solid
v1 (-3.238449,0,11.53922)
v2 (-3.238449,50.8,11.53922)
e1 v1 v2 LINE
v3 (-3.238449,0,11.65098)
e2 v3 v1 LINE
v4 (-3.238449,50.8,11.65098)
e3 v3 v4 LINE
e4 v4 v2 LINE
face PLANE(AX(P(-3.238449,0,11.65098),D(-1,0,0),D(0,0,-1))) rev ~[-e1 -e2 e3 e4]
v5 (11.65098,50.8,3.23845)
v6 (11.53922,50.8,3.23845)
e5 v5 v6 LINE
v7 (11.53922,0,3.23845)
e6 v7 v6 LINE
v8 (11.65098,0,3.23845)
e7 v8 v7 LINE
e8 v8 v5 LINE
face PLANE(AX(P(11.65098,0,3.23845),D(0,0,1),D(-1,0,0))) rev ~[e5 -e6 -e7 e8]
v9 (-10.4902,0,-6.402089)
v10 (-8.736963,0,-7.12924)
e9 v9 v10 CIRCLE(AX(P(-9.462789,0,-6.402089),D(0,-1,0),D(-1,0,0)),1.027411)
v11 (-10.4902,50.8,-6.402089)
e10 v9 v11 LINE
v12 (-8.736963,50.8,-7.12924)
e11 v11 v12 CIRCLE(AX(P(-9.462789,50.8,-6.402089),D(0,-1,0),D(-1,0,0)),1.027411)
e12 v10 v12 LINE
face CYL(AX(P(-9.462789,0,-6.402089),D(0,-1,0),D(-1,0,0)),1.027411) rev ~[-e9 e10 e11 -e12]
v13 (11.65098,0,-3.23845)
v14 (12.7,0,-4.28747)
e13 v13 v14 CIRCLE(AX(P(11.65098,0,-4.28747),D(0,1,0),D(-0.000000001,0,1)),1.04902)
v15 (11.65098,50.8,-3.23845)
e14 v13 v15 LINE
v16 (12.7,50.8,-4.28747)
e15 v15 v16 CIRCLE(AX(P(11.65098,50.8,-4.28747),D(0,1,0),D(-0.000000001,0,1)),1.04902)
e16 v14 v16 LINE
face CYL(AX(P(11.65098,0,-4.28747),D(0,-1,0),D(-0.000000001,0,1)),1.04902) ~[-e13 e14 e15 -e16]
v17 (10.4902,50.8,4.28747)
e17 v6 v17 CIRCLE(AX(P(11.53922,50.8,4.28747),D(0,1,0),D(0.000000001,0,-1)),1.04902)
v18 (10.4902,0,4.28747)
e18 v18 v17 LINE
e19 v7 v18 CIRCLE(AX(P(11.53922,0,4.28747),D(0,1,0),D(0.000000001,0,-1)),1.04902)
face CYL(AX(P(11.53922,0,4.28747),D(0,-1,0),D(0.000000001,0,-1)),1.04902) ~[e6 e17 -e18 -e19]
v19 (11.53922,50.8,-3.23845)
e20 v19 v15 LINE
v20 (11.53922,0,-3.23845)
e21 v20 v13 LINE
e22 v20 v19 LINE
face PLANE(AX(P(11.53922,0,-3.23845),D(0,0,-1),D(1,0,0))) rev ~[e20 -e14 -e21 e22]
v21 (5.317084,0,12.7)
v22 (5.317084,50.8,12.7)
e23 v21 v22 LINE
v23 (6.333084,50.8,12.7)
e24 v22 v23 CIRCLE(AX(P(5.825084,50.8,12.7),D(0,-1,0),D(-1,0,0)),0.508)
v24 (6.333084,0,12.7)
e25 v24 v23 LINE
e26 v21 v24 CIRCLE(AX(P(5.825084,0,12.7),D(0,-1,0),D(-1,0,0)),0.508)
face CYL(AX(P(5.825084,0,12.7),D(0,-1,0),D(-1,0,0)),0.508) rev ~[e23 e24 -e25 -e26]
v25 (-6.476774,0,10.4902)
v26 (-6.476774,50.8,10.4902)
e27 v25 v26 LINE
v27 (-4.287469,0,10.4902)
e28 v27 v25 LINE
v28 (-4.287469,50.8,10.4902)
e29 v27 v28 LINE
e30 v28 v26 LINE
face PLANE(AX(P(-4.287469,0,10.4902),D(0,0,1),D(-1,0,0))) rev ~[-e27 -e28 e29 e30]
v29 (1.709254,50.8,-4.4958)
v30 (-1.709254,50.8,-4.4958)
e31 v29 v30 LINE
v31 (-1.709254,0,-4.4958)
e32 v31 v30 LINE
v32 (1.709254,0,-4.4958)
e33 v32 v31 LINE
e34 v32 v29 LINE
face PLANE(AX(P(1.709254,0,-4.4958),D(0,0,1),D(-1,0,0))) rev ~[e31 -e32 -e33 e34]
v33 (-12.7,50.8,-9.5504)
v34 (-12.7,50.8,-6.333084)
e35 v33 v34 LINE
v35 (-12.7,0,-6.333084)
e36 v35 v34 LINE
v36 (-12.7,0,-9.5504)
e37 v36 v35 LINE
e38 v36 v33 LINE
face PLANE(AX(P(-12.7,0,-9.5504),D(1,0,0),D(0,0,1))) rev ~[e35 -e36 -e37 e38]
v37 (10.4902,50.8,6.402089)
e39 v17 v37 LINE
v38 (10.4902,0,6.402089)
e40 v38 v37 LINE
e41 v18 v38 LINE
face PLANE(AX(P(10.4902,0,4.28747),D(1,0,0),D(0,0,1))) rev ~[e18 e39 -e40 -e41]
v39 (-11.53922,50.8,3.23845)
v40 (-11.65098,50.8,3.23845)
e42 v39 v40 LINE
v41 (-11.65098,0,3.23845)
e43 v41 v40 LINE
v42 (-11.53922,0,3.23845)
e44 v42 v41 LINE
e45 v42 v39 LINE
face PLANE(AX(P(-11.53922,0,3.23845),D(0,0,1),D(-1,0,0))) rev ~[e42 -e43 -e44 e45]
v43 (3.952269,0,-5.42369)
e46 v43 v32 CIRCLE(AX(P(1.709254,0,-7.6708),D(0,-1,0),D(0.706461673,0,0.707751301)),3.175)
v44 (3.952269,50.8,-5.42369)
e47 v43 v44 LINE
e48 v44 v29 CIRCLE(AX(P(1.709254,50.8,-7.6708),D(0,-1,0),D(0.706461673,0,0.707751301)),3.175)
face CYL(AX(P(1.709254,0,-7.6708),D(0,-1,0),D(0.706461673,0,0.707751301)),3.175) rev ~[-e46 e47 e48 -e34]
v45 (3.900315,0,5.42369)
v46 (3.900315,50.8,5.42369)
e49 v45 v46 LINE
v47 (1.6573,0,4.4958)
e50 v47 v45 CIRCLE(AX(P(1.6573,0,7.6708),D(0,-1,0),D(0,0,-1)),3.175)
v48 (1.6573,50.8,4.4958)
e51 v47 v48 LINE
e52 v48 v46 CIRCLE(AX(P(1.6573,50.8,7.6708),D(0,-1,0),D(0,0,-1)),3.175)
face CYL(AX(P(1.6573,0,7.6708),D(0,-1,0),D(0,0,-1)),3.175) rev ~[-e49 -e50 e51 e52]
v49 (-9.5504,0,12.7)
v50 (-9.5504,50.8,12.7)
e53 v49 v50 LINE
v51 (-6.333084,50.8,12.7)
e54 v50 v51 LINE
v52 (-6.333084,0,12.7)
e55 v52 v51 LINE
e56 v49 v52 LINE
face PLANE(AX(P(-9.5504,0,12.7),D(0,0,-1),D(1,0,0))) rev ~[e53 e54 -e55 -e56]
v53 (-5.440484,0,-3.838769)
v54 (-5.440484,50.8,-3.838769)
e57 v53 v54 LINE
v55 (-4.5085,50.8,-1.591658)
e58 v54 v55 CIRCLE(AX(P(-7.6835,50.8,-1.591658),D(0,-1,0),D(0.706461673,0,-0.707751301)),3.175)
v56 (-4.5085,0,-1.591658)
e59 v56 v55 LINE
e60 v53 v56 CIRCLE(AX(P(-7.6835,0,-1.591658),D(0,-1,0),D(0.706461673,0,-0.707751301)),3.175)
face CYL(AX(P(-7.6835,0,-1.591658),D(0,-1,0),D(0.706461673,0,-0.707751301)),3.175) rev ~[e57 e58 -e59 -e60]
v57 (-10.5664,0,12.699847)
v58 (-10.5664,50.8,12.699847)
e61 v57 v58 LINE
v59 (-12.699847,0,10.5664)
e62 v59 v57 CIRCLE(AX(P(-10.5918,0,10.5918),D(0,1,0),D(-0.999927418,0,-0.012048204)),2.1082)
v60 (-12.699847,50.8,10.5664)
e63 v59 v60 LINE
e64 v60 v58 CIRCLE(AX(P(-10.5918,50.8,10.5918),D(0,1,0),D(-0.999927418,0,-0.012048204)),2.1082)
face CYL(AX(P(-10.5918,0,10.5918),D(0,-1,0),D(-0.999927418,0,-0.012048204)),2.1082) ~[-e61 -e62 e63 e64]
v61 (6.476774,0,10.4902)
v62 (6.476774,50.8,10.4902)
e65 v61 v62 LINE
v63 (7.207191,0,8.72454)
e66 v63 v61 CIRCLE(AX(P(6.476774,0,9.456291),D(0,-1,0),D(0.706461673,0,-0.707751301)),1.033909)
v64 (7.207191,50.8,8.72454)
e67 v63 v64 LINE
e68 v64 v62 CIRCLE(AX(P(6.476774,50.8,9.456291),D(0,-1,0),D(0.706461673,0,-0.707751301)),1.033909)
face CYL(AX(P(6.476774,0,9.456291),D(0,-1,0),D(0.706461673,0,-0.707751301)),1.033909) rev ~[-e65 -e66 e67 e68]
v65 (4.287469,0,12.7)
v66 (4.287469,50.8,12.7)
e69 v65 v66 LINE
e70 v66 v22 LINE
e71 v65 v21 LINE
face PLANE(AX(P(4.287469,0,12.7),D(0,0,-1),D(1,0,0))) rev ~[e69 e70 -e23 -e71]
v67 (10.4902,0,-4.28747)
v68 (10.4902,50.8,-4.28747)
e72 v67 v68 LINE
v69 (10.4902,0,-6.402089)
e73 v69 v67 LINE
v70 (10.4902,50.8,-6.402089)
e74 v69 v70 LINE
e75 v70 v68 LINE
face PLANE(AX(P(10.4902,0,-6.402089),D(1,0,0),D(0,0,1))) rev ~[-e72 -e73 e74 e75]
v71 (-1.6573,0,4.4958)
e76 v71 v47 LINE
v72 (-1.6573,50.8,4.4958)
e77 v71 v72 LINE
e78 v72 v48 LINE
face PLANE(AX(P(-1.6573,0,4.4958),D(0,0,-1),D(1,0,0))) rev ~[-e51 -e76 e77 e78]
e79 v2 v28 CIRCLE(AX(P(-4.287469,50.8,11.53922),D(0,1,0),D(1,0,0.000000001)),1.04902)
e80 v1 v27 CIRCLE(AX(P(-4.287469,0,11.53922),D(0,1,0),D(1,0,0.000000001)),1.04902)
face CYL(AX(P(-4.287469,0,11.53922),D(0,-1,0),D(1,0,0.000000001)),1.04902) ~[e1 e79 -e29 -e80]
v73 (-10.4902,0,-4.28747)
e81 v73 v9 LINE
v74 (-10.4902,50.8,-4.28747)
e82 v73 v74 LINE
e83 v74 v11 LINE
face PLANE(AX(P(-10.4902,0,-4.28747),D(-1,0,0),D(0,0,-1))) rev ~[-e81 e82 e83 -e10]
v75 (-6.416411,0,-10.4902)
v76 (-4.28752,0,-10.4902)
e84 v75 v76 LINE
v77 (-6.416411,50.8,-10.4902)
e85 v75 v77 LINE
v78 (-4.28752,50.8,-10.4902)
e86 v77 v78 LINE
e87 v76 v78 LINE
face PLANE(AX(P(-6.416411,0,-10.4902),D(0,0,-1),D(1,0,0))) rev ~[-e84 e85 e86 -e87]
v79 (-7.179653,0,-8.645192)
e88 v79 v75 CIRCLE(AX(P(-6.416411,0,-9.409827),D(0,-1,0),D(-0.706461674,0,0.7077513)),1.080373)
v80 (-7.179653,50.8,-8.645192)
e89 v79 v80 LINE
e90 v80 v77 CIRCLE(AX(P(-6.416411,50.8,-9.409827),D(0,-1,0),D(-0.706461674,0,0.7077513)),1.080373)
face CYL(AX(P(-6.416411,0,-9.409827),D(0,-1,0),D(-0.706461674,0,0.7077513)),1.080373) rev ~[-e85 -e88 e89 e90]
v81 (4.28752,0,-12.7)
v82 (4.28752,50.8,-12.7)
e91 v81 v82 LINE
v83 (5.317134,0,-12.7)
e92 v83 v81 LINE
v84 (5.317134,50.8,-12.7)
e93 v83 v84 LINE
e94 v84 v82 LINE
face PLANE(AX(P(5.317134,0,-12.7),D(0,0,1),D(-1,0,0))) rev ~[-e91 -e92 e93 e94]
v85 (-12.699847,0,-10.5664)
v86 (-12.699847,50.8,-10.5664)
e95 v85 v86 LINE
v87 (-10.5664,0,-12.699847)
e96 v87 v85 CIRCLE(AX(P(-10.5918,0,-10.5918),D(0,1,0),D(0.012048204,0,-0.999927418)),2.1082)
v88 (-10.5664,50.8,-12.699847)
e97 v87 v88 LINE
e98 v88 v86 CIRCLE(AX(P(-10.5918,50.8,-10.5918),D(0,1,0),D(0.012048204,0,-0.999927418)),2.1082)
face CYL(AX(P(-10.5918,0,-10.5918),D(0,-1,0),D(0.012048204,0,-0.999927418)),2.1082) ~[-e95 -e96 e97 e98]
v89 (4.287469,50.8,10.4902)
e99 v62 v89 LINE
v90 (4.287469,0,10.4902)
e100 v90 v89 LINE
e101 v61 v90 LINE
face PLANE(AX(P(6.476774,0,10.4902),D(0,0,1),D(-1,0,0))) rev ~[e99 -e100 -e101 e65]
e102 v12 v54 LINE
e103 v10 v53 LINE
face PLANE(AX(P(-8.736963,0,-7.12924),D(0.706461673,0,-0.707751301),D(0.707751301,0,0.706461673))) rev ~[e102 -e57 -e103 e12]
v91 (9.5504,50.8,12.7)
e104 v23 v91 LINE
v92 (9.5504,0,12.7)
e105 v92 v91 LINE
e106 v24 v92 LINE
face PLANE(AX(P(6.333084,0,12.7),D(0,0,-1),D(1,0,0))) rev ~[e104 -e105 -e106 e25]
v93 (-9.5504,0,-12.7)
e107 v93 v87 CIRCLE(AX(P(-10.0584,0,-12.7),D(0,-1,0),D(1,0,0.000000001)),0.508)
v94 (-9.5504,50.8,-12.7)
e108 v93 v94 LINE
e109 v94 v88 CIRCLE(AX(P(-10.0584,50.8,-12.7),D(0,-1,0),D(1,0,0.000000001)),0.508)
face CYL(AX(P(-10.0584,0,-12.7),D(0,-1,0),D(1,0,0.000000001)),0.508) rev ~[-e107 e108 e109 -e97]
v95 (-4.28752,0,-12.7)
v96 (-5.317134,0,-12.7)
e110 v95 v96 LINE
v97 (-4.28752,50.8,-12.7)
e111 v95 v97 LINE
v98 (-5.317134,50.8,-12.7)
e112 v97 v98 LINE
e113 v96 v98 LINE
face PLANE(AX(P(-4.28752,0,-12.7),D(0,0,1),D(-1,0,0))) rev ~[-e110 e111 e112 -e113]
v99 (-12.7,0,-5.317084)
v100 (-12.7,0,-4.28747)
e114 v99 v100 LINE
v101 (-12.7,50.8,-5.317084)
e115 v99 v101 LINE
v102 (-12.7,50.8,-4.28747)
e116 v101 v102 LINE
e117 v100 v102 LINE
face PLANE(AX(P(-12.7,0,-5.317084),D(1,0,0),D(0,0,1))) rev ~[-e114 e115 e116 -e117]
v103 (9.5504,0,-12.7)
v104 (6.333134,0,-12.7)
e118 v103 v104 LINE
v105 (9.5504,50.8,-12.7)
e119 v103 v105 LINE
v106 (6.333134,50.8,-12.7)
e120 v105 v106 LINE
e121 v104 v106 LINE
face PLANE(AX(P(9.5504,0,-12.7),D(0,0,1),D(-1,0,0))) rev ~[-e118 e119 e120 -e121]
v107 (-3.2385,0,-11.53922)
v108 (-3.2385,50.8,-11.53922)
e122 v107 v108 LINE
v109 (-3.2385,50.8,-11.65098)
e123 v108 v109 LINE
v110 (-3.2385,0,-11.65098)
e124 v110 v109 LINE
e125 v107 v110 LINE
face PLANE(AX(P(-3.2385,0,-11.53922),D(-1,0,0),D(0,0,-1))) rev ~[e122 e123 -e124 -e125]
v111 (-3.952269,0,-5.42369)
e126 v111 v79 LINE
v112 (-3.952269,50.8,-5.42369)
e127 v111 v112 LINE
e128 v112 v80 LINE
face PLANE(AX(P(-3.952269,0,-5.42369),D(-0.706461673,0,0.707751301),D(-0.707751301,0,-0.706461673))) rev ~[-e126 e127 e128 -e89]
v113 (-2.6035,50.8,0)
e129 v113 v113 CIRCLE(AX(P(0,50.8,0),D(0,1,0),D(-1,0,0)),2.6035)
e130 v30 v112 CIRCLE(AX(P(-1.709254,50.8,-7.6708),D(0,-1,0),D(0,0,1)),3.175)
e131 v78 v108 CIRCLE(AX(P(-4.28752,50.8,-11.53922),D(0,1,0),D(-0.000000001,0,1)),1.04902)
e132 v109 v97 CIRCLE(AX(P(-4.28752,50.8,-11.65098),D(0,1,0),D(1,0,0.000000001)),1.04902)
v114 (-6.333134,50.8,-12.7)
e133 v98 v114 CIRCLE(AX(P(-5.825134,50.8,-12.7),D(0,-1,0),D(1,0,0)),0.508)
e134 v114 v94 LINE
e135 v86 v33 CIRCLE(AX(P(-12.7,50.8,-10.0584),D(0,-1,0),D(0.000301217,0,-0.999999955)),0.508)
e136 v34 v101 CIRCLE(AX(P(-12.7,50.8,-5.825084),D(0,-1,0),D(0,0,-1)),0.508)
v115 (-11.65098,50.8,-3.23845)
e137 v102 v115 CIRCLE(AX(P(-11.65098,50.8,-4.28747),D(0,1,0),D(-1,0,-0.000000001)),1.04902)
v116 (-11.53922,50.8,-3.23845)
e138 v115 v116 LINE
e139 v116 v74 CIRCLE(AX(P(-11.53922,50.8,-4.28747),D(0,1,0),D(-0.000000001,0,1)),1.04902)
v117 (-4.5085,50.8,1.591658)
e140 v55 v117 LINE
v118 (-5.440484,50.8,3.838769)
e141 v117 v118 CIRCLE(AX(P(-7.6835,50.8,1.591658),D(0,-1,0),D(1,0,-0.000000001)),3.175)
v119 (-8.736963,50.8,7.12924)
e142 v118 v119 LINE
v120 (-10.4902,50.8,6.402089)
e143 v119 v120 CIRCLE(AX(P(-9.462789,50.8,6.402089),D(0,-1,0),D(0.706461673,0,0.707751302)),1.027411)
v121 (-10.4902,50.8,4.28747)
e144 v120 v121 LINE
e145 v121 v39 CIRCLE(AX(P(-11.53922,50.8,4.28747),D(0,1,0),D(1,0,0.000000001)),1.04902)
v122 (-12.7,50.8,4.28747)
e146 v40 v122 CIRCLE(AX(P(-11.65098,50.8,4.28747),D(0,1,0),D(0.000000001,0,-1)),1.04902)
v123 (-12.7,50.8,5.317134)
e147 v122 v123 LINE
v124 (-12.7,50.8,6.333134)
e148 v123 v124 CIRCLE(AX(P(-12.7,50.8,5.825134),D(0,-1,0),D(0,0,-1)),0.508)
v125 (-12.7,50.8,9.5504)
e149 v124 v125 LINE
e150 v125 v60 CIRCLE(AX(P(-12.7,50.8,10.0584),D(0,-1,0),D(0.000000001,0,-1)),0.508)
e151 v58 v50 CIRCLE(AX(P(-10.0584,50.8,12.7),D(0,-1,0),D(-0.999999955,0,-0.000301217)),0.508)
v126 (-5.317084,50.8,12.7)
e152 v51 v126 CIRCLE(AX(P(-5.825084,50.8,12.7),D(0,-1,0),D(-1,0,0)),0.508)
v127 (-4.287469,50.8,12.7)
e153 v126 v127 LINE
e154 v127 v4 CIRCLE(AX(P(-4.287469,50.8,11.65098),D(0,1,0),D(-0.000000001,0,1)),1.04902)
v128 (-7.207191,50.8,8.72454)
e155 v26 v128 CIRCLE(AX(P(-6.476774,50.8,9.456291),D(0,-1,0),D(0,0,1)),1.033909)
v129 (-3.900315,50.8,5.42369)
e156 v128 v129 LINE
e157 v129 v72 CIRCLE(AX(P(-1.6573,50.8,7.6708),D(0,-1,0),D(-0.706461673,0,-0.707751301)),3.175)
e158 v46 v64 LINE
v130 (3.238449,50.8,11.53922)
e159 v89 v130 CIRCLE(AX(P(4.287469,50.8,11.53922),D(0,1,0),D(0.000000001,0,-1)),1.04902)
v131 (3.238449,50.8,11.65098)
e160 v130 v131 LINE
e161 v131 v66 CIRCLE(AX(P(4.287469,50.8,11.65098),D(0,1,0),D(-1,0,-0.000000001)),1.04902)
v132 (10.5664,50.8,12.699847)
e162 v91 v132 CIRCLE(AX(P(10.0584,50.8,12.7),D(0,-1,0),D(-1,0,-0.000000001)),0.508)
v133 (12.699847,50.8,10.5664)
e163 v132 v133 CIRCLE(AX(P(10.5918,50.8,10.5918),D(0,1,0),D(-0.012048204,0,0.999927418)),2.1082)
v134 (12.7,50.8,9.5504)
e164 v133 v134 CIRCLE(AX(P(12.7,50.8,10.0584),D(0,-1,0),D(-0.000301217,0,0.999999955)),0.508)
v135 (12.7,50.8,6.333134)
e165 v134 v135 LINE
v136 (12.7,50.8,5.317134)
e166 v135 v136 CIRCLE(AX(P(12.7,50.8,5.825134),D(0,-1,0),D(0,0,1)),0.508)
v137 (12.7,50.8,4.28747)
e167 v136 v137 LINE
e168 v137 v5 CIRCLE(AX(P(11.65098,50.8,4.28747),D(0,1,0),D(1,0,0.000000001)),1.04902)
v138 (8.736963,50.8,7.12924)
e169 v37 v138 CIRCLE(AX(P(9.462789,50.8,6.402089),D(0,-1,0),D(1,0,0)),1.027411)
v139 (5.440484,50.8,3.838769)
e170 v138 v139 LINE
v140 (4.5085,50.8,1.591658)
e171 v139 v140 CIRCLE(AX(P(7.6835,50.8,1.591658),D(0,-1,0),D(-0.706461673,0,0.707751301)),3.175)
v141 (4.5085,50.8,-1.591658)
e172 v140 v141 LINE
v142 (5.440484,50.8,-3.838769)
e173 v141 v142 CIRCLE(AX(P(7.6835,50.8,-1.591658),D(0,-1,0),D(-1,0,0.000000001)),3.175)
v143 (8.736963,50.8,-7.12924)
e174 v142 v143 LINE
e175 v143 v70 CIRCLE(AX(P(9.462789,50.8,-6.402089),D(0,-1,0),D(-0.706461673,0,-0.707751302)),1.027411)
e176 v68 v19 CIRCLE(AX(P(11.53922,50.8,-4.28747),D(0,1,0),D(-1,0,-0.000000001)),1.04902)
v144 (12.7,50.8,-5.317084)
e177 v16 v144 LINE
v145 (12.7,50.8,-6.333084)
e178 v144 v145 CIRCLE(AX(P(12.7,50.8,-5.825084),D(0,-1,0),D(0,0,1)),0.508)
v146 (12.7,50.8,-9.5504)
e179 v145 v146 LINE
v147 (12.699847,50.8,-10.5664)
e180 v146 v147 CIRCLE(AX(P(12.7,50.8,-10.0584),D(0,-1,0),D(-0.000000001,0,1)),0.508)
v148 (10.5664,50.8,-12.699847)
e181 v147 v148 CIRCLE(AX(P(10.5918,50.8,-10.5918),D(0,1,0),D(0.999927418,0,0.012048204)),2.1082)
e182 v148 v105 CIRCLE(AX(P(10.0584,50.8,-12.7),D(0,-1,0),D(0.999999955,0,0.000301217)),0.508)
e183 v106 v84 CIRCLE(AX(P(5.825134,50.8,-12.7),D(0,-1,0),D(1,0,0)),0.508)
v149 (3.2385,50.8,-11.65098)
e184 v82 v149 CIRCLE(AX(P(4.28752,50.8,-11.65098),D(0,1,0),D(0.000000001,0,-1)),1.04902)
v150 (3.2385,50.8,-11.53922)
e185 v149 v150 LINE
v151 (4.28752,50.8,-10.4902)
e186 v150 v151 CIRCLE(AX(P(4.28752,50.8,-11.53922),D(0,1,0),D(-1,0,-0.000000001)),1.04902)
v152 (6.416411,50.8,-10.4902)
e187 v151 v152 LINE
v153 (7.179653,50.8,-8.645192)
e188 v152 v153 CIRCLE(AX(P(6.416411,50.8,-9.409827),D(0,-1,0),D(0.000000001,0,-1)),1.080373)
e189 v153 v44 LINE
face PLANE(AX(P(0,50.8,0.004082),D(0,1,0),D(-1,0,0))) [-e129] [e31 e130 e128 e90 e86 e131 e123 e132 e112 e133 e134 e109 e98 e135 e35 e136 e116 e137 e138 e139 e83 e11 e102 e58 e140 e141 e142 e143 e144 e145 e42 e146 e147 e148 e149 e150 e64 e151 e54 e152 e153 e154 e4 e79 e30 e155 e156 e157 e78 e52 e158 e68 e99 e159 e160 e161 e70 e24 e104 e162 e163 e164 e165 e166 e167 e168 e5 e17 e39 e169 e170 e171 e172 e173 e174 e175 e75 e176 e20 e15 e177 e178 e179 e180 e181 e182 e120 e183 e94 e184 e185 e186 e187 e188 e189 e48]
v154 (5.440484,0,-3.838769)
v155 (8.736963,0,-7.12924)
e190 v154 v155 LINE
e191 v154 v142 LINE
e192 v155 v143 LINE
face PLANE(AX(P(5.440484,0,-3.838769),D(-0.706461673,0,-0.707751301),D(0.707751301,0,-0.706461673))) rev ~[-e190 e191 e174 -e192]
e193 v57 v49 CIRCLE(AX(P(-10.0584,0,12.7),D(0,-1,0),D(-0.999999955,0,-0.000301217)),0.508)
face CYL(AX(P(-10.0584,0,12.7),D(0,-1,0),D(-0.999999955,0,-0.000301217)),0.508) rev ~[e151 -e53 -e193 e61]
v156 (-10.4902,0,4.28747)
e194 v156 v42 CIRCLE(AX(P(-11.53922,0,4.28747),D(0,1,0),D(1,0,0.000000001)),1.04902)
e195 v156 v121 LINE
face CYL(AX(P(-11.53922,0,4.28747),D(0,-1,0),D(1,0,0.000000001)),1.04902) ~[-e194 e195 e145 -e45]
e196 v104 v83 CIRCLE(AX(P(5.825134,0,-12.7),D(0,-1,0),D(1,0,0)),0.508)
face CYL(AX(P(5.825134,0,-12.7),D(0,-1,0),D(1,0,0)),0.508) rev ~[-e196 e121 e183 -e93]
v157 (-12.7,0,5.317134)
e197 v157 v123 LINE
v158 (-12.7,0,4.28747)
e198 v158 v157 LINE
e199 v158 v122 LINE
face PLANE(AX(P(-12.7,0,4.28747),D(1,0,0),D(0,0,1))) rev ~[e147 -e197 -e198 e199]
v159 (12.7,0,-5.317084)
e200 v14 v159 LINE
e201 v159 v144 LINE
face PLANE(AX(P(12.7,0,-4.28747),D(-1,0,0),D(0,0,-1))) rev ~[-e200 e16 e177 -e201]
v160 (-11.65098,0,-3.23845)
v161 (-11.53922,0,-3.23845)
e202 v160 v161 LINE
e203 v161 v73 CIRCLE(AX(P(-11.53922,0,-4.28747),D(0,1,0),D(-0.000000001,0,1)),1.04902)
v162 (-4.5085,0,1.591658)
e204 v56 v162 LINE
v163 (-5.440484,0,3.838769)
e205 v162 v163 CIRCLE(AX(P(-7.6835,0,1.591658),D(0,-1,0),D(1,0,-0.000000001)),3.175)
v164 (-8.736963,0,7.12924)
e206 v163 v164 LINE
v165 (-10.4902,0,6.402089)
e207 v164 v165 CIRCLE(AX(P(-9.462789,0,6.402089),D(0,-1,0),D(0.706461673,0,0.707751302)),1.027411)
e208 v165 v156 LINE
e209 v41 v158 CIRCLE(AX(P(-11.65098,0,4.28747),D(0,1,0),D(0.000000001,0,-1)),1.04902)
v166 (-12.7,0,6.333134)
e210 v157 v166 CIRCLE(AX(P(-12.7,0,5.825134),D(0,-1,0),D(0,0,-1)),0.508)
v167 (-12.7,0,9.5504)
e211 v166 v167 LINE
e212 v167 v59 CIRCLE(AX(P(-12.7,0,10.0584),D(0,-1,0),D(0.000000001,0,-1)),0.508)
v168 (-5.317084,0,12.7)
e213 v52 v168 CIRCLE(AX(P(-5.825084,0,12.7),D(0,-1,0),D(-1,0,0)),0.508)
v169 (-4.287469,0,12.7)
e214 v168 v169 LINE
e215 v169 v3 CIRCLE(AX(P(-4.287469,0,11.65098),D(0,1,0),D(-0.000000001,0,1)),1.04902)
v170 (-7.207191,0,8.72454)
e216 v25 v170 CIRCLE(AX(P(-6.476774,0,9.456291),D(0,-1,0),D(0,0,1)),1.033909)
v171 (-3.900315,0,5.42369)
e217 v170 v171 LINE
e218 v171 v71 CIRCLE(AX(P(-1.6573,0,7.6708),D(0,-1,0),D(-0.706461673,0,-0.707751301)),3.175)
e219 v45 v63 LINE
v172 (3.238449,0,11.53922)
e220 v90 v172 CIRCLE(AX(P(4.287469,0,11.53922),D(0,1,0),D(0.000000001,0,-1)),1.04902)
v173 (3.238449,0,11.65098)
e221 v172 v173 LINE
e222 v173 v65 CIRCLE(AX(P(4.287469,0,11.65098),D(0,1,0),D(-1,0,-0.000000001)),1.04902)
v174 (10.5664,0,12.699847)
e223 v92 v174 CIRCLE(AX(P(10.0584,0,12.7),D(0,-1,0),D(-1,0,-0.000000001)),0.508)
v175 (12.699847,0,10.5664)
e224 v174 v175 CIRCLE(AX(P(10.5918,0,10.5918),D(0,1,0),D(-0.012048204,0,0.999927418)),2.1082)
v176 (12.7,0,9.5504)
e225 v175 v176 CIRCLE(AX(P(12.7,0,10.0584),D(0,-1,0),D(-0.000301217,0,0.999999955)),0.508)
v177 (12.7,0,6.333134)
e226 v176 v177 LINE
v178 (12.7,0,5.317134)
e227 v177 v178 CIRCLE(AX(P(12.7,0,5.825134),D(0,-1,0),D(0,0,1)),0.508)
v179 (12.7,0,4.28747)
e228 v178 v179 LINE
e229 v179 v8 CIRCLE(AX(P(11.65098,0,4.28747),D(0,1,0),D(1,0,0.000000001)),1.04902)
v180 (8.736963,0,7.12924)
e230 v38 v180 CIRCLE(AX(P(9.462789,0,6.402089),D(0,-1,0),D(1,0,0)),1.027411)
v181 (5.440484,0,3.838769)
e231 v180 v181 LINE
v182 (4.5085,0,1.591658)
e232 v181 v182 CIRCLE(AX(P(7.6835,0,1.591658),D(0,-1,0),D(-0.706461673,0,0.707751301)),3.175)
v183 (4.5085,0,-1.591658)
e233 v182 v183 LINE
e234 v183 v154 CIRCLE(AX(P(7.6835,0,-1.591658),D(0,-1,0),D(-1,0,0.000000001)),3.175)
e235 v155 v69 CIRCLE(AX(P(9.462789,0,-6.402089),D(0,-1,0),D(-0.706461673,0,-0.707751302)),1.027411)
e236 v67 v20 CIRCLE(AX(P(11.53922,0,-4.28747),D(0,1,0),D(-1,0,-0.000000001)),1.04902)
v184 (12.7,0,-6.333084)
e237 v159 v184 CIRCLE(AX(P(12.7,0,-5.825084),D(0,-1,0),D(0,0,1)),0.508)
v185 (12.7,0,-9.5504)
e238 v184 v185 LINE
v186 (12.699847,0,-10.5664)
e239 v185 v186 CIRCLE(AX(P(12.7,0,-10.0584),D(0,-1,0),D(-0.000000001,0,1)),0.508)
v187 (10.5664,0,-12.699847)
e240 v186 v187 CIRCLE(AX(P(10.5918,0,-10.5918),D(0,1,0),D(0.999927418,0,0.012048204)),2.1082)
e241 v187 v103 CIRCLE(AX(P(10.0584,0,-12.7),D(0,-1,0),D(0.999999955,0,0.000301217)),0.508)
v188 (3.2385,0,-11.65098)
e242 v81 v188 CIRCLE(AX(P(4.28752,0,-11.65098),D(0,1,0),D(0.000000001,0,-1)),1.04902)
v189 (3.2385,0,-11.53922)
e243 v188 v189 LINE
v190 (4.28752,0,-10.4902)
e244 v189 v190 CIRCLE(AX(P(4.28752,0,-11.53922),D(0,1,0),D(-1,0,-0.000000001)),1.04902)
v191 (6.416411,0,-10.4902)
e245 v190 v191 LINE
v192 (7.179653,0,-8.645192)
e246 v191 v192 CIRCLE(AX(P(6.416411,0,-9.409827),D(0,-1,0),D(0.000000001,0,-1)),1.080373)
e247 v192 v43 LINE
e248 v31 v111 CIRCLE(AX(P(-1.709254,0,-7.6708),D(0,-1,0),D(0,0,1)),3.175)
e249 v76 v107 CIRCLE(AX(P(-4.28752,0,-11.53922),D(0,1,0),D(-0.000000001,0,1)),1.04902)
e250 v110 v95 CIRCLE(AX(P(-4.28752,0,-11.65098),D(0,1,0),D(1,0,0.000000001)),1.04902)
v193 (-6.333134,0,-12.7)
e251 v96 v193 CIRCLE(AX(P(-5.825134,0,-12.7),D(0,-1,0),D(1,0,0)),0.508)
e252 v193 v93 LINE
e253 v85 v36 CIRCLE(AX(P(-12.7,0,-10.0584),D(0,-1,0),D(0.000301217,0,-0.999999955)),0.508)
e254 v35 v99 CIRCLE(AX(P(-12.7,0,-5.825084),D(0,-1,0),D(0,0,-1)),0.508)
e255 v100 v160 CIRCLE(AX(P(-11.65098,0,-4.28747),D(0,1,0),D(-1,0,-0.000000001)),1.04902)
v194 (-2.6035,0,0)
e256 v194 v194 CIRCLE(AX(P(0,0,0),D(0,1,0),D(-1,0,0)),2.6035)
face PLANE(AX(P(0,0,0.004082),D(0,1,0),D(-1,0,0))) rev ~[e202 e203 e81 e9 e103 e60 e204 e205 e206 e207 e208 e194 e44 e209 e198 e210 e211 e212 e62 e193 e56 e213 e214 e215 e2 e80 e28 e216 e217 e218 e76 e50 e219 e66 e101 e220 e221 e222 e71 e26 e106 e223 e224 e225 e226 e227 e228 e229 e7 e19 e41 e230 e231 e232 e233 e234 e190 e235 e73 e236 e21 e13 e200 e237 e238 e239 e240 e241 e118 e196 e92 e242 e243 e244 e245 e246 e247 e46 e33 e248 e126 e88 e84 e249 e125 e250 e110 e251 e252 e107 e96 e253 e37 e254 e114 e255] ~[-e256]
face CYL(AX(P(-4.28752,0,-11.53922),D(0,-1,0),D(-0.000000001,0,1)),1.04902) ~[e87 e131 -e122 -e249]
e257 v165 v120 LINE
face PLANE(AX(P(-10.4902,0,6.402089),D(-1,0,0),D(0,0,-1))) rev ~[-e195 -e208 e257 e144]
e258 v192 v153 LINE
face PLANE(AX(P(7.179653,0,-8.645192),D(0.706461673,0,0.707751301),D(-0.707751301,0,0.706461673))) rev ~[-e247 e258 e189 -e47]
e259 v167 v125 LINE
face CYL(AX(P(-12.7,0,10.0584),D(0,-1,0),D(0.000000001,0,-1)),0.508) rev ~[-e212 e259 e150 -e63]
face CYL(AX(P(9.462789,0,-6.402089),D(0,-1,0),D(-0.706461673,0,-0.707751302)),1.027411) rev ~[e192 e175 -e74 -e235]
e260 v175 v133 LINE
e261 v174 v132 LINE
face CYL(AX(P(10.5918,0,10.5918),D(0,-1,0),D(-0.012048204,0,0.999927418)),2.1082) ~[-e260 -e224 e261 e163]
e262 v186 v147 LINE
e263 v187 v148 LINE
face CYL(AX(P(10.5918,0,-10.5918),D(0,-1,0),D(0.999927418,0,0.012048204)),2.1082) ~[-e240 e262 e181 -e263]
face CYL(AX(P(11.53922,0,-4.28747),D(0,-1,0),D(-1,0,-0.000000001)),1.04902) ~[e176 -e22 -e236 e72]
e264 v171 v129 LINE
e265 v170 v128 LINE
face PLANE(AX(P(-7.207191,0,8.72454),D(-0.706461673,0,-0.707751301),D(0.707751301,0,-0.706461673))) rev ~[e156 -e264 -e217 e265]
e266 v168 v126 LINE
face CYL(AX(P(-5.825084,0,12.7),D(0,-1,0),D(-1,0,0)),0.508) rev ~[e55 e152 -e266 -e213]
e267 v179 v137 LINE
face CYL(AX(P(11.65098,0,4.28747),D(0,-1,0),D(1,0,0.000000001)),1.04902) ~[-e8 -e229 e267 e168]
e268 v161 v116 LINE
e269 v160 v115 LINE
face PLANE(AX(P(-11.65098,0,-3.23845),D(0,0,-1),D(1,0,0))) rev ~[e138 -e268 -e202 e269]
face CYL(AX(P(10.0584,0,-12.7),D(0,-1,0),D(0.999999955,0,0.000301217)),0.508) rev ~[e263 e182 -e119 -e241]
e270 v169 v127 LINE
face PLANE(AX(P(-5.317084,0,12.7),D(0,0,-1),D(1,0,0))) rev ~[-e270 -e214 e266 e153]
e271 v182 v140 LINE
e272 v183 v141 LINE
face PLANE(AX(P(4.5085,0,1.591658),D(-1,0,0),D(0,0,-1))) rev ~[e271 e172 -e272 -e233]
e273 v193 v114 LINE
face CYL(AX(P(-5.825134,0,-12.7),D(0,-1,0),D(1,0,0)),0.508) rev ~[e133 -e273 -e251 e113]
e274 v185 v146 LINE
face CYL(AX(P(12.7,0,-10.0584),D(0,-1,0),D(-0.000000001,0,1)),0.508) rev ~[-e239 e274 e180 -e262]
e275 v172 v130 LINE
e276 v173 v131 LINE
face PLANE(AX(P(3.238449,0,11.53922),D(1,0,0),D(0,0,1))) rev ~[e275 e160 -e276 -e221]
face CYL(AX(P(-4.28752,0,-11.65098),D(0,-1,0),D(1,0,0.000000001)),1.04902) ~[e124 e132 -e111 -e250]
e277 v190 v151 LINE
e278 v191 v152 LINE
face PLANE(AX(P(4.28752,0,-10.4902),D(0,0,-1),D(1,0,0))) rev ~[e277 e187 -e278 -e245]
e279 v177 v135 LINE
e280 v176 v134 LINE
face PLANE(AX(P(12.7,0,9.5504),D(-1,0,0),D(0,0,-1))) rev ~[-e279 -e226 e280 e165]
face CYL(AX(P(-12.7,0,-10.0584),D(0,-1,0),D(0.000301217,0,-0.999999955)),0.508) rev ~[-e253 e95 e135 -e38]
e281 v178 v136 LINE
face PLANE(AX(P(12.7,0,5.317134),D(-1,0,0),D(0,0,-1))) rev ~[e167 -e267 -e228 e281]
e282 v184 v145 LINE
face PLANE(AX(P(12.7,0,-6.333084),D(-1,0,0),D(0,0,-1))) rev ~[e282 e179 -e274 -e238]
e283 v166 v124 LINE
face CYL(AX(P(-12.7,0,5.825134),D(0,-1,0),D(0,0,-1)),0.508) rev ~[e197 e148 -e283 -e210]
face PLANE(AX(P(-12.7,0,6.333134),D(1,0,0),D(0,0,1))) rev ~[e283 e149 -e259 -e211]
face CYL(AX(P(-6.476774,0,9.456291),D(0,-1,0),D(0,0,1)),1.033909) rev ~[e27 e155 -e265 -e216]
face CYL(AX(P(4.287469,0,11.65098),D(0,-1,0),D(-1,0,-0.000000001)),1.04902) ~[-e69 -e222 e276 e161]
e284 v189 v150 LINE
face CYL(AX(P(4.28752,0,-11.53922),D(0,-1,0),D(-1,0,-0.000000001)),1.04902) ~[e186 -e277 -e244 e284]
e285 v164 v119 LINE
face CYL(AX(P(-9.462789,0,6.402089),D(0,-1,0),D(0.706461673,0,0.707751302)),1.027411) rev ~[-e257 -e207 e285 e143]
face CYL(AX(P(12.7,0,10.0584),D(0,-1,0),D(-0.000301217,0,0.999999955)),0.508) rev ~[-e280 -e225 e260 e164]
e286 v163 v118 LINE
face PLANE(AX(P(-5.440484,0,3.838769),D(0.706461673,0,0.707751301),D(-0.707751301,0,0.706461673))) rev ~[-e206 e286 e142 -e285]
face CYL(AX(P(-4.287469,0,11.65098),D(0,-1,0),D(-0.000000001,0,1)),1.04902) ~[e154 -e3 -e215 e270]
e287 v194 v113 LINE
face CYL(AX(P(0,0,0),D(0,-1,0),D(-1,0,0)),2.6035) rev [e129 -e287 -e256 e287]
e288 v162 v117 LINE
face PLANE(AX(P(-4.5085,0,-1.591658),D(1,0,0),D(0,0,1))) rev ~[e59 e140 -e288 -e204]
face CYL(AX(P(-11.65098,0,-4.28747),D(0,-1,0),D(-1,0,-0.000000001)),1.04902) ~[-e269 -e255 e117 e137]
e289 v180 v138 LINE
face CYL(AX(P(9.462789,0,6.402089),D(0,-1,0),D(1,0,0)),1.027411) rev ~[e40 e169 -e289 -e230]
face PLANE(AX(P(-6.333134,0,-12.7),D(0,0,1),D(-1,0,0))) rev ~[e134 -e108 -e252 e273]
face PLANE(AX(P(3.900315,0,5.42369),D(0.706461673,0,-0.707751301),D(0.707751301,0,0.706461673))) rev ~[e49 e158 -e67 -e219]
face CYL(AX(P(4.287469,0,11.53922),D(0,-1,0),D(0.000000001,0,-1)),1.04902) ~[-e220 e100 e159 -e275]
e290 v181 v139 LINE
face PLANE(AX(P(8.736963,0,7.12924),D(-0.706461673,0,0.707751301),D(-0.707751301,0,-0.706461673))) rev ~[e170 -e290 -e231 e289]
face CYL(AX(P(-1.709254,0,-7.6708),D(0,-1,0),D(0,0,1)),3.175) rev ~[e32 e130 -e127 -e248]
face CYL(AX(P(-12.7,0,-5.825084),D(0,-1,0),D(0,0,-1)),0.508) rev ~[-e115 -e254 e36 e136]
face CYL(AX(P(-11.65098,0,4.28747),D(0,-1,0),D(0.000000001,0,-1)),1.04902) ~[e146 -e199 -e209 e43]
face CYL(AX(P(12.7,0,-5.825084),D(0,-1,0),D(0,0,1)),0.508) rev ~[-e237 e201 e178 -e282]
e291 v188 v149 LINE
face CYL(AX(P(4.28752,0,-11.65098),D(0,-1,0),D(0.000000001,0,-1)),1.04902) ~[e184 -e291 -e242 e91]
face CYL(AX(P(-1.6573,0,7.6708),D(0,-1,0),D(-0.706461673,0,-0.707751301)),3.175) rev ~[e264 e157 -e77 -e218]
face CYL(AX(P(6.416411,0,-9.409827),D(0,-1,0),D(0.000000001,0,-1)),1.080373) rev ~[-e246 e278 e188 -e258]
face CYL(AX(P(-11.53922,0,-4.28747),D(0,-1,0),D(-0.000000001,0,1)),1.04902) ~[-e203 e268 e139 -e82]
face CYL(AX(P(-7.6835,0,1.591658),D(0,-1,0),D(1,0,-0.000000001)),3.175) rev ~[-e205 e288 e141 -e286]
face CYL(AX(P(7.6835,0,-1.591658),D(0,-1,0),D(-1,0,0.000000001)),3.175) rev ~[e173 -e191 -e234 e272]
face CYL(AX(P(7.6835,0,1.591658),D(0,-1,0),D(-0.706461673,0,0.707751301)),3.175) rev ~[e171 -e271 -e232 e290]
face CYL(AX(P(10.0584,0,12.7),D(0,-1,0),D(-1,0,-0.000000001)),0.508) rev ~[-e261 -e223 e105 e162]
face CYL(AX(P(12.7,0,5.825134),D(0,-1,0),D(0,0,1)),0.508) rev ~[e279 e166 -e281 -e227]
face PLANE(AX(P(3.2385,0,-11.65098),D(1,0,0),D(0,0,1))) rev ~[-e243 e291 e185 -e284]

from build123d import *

# Parameters (mm, degrees)
SKETCH12_R                = 2.6035
F_10_1010_PROFILE_1_DEPTH = 50.8


with BuildPart() as part:
    # Sketch12 → 10 1010 PROFILE(1) (new body)
    with BuildSketch(Plane(origin=(0, 0, 0), x_dir=(-1, 0, 0), z_dir=(0, 1, 0))):
        with BuildLine():
            Line((-1.709253557, -4.4958), (1.709253557, -4.4958))
            ThreePointArc((1.709253557, -4.4958), (2.922935876, -4.736928798), (3.95226937, -5.423689619))
            Line((3.95226937, -5.423689619), (7.179652728, -8.645192207))
            ThreePointArc((7.179652728, -8.645192207), (7.414733441, -9.822812921), (6.41641086, -10.4902))
            Line((6.41641086, -10.4902), (4.28752, -10.4902))
            ThreePointArc((4.28752, -10.4902), (3.545750844, -10.797450844), (3.2385, -11.53922))
            Line((3.2385, -11.53922), (3.2385, -11.65098))
            ThreePointArc((3.2385, -11.65098), (3.545750844, -12.392749156), (4.28752, -12.7))
            Line((4.28752, -12.7), (5.3171344, -12.7))
            ThreePointArc((5.3171344, -12.7), (5.8251344, -12.192), (6.3331344, -12.7))
            Line((6.3331344, -12.7), (9.5504, -12.7))
            ThreePointArc((9.5504, -12.7), (10.058323491, -12.192000006), (10.566399977, -12.699846982))
            ThreePointArc((10.566399977, -12.699846982), (12.082522516, -12.082522516), (12.699846982, -10.566399977))
            ThreePointArc((12.699846982, -10.566399977), (12.192000006, -10.058323491), (12.7, -9.5504))
            Line((12.7, -9.5504), (12.7, -6.3330836))
            ThreePointArc((12.7, -6.3330836), (12.192, -5.8250836), (12.7, -5.3170836))
            Line((12.7, -5.3170836), (12.7, -4.287470133))
            ThreePointArc((12.7, -4.287470133), (12.392749156, -3.545700977), (11.65098, -3.238450133))
            Line((11.65098, -3.238450133), (11.53922, -3.238450133))
            ThreePointArc((11.53922, -3.238450133), (10.797450844, -3.545700977), (10.4902, -4.287470133))
            Line((10.4902, -4.287470133), (10.4902, -6.402089023))
            ThreePointArc((10.4902, -6.402089023), (9.856394933, -7.351113629), (8.736962546, -7.129240479))
            Line((8.736962546, -7.129240479), (5.440484187, -3.838768792))
            ThreePointArc((5.440484187, -3.838768792), (4.75073678, -2.808015636), (4.5085, -1.591658411))
            Line((4.5085, -1.591658411), (4.5085, 1.591658411))
            ThreePointArc((4.5085, 1.591658411), (4.75073678, 2.808015636), (5.440484187, 3.838768792))
            Line((5.440484187, 3.838768792), (8.736962546, 7.129240479))
            ThreePointArc((8.736962546, 7.129240479), (9.856394933, 7.351113629), (10.4902, 6.402089023))
            Line((10.4902, 6.402089023), (10.4902, 4.287470133))
            ThreePointArc((10.4902, 4.287470133), (10.797450844, 3.545700977), (11.53922, 3.238450133))
            Line((11.53922, 3.238450133), (11.65098, 3.238450133))
            ThreePointArc((11.65098, 3.238450133), (12.392749156, 3.545700977), (12.7, 4.287470133))
            Line((12.7, 4.287470133), (12.7, 5.3171344))
            ThreePointArc((12.7, 5.3171344), (12.192, 5.8251344), (12.7, 6.3331344))
            Line((12.7, 6.3331344), (12.7, 9.5504))
            ThreePointArc((12.7, 9.5504), (12.192000006, 10.058323491), (12.699846982, 10.566399977))
            ThreePointArc((12.699846982, 10.566399977), (12.082522516, 12.082522516), (10.566399977, 12.699846982))
            ThreePointArc((10.566399977, 12.699846982), (10.058323491, 12.192000006), (9.5504, 12.7))
            Line((9.5504, 12.7), (6.3330836, 12.7))
            ThreePointArc((6.3330836, 12.7), (5.8250836, 12.192), (5.3170836, 12.7))
            Line((5.3170836, 12.7), (4.2874692, 12.7))
            ThreePointArc((4.2874692, 12.7), (3.545700044, 12.392749156), (3.2384492, 11.65098))
            Line((3.2384492, 11.65098), (3.2384492, 11.53922))
            ThreePointArc((3.2384492, 11.53922), (3.545700044, 10.797450844), (4.2874692, 10.4902))
            Line((4.2874692, 10.4902), (6.476774195, 10.4902))
            ThreePointArc((6.476774195, 10.4902), (7.43216212, 9.851515102), (7.207191475, 8.724540082))
            Line((7.207191475, 8.724540082), (3.900315394, 5.423689619))
            ThreePointArc((3.900315394, 5.423689619), (2.8709819, 4.736928798), (1.657299581, 4.4958))
            Line((1.657299581, 4.4958), (-1.657299581, 4.4958))
            ThreePointArc((-1.657299581, 4.4958), (-2.8709819, 4.736928798), (-3.900315394, 5.423689619))
            Line((-3.900315394, 5.423689619), (-7.207191475, 8.724540082))
            ThreePointArc((-7.207191475, 8.724540082), (-7.43216212, 9.851515102), (-6.476774195, 10.4902))
            Line((-6.476774195, 10.4902), (-4.2874692, 10.4902))
            ThreePointArc((-4.2874692, 10.4902), (-3.545700044, 10.797450844), (-3.2384492, 11.53922))
            Line((-3.2384492, 11.53922), (-3.2384492, 11.65098))
            ThreePointArc((-3.2384492, 11.65098), (-3.545700044, 12.392749156), (-4.2874692, 12.7))
            Line((-4.2874692, 12.7), (-5.3170836, 12.7))
            ThreePointArc((-5.3170836, 12.7), (-5.8250836, 12.192), (-6.3330836, 12.7))
            Line((-6.3330836, 12.7), (-9.5504, 12.7))
            ThreePointArc((-9.5504, 12.7), (-10.058323491, 12.192000006), (-10.566399977, 12.699846982))
            ThreePointArc((-10.566399977, 12.699846982), (-12.082522516, 12.082522516), (-12.699846982, 10.566399977))
            ThreePointArc((-12.699846982, 10.566399977), (-12.192000006, 10.058323491), (-12.7, 9.5504))
            Line((-12.7, 9.5504), (-12.7, 6.3331344))
            ThreePointArc((-12.7, 6.3331344), (-12.192, 5.8251344), (-12.7, 5.3171344))
            Line((-12.7, 5.3171344), (-12.7, 4.287470133))
            ThreePointArc((-12.7, 4.287470133), (-12.392749156, 3.545700977), (-11.65098, 3.238450133))
            Line((-11.65098, 3.238450133), (-11.53922, 3.238450133))
            ThreePointArc((-11.53922, 3.238450133), (-10.797450844, 3.545700977), (-10.4902, 4.287470133))
            Line((-10.4902, 4.287470133), (-10.4902, 6.402089023))
            ThreePointArc((-10.4902, 6.402089023), (-9.856394933, 7.351113629), (-8.736962546, 7.129240479))
            Line((-8.736962546, 7.129240479), (-5.440484187, 3.838768792))
            ThreePointArc((-5.440484187, 3.838768792), (-4.75073678, 2.808015636), (-4.5085, 1.591658411))
            Line((-4.5085, 1.591658411), (-4.5085, -1.591658411))
            ThreePointArc((-4.5085, -1.591658411), (-4.75073678, -2.808015636), (-5.440484187, -3.838768792))
            Line((-5.440484187, -3.838768792), (-8.736962546, -7.129240479))
            ThreePointArc((-8.736962546, -7.129240479), (-9.856394933, -7.351113629), (-10.4902, -6.402089023))
            Line((-10.4902, -6.402089023), (-10.4902, -4.287470133))
            ThreePointArc((-10.4902, -4.287470133), (-10.797450844, -3.545700977), (-11.53922, -3.238450133))
            Line((-11.53922, -3.238450133), (-11.65098, -3.238450133))
            ThreePointArc((-11.65098, -3.238450133), (-12.392749156, -3.545700977), (-12.7, -4.287470133))
            Line((-12.7, -4.287470133), (-12.7, -5.3170836))
            ThreePointArc((-12.7, -5.3170836), (-12.192, -5.8250836), (-12.7, -6.3330836))
            Line((-12.7, -6.3330836), (-12.7, -9.5504))
            ThreePointArc((-12.7, -9.5504), (-12.192000006, -10.058323491), (-12.699846982, -10.566399977))
            ThreePointArc((-12.699846982, -10.566399977), (-12.082522516, -12.082522516), (-10.566399977, -12.699846982))
            ThreePointArc((-10.566399977, -12.699846982), (-10.058323491, -12.192000006), (-9.5504, -12.7))
            Line((-9.5504, -12.7), (-6.3331344, -12.7))
            ThreePointArc((-6.3331344, -12.7), (-5.8251344, -12.192), (-5.3171344, -12.7))
            Line((-5.3171344, -12.7), (-4.28752, -12.7))
            ThreePointArc((-4.28752, -12.7), (-3.545750844, -12.392749156), (-3.2385, -11.65098))
            Line((-3.2385, -11.65098), (-3.2385, -11.53922))
            ThreePointArc((-3.2385, -11.53922), (-3.545750844, -10.797450844), (-4.28752, -10.4902))
            Line((-4.28752, -10.4902), (-6.41641086, -10.4902))
            ThreePointArc((-6.41641086, -10.4902), (-7.414733441, -9.822812921), (-7.179652728, -8.645192207))
            Line((-7.179652728, -8.645192207), (-3.95226937, -5.423689619))
            ThreePointArc((-3.95226937, -5.423689619), (-2.922935876, -4.736928798), (-1.709253557, -4.4958))
        make_face()
        Circle(SKETCH12_R, mode=Mode.SUBTRACT)
    extrude(amount=F_10_1010_PROFILE_1_DEPTH)


solid = part.part
